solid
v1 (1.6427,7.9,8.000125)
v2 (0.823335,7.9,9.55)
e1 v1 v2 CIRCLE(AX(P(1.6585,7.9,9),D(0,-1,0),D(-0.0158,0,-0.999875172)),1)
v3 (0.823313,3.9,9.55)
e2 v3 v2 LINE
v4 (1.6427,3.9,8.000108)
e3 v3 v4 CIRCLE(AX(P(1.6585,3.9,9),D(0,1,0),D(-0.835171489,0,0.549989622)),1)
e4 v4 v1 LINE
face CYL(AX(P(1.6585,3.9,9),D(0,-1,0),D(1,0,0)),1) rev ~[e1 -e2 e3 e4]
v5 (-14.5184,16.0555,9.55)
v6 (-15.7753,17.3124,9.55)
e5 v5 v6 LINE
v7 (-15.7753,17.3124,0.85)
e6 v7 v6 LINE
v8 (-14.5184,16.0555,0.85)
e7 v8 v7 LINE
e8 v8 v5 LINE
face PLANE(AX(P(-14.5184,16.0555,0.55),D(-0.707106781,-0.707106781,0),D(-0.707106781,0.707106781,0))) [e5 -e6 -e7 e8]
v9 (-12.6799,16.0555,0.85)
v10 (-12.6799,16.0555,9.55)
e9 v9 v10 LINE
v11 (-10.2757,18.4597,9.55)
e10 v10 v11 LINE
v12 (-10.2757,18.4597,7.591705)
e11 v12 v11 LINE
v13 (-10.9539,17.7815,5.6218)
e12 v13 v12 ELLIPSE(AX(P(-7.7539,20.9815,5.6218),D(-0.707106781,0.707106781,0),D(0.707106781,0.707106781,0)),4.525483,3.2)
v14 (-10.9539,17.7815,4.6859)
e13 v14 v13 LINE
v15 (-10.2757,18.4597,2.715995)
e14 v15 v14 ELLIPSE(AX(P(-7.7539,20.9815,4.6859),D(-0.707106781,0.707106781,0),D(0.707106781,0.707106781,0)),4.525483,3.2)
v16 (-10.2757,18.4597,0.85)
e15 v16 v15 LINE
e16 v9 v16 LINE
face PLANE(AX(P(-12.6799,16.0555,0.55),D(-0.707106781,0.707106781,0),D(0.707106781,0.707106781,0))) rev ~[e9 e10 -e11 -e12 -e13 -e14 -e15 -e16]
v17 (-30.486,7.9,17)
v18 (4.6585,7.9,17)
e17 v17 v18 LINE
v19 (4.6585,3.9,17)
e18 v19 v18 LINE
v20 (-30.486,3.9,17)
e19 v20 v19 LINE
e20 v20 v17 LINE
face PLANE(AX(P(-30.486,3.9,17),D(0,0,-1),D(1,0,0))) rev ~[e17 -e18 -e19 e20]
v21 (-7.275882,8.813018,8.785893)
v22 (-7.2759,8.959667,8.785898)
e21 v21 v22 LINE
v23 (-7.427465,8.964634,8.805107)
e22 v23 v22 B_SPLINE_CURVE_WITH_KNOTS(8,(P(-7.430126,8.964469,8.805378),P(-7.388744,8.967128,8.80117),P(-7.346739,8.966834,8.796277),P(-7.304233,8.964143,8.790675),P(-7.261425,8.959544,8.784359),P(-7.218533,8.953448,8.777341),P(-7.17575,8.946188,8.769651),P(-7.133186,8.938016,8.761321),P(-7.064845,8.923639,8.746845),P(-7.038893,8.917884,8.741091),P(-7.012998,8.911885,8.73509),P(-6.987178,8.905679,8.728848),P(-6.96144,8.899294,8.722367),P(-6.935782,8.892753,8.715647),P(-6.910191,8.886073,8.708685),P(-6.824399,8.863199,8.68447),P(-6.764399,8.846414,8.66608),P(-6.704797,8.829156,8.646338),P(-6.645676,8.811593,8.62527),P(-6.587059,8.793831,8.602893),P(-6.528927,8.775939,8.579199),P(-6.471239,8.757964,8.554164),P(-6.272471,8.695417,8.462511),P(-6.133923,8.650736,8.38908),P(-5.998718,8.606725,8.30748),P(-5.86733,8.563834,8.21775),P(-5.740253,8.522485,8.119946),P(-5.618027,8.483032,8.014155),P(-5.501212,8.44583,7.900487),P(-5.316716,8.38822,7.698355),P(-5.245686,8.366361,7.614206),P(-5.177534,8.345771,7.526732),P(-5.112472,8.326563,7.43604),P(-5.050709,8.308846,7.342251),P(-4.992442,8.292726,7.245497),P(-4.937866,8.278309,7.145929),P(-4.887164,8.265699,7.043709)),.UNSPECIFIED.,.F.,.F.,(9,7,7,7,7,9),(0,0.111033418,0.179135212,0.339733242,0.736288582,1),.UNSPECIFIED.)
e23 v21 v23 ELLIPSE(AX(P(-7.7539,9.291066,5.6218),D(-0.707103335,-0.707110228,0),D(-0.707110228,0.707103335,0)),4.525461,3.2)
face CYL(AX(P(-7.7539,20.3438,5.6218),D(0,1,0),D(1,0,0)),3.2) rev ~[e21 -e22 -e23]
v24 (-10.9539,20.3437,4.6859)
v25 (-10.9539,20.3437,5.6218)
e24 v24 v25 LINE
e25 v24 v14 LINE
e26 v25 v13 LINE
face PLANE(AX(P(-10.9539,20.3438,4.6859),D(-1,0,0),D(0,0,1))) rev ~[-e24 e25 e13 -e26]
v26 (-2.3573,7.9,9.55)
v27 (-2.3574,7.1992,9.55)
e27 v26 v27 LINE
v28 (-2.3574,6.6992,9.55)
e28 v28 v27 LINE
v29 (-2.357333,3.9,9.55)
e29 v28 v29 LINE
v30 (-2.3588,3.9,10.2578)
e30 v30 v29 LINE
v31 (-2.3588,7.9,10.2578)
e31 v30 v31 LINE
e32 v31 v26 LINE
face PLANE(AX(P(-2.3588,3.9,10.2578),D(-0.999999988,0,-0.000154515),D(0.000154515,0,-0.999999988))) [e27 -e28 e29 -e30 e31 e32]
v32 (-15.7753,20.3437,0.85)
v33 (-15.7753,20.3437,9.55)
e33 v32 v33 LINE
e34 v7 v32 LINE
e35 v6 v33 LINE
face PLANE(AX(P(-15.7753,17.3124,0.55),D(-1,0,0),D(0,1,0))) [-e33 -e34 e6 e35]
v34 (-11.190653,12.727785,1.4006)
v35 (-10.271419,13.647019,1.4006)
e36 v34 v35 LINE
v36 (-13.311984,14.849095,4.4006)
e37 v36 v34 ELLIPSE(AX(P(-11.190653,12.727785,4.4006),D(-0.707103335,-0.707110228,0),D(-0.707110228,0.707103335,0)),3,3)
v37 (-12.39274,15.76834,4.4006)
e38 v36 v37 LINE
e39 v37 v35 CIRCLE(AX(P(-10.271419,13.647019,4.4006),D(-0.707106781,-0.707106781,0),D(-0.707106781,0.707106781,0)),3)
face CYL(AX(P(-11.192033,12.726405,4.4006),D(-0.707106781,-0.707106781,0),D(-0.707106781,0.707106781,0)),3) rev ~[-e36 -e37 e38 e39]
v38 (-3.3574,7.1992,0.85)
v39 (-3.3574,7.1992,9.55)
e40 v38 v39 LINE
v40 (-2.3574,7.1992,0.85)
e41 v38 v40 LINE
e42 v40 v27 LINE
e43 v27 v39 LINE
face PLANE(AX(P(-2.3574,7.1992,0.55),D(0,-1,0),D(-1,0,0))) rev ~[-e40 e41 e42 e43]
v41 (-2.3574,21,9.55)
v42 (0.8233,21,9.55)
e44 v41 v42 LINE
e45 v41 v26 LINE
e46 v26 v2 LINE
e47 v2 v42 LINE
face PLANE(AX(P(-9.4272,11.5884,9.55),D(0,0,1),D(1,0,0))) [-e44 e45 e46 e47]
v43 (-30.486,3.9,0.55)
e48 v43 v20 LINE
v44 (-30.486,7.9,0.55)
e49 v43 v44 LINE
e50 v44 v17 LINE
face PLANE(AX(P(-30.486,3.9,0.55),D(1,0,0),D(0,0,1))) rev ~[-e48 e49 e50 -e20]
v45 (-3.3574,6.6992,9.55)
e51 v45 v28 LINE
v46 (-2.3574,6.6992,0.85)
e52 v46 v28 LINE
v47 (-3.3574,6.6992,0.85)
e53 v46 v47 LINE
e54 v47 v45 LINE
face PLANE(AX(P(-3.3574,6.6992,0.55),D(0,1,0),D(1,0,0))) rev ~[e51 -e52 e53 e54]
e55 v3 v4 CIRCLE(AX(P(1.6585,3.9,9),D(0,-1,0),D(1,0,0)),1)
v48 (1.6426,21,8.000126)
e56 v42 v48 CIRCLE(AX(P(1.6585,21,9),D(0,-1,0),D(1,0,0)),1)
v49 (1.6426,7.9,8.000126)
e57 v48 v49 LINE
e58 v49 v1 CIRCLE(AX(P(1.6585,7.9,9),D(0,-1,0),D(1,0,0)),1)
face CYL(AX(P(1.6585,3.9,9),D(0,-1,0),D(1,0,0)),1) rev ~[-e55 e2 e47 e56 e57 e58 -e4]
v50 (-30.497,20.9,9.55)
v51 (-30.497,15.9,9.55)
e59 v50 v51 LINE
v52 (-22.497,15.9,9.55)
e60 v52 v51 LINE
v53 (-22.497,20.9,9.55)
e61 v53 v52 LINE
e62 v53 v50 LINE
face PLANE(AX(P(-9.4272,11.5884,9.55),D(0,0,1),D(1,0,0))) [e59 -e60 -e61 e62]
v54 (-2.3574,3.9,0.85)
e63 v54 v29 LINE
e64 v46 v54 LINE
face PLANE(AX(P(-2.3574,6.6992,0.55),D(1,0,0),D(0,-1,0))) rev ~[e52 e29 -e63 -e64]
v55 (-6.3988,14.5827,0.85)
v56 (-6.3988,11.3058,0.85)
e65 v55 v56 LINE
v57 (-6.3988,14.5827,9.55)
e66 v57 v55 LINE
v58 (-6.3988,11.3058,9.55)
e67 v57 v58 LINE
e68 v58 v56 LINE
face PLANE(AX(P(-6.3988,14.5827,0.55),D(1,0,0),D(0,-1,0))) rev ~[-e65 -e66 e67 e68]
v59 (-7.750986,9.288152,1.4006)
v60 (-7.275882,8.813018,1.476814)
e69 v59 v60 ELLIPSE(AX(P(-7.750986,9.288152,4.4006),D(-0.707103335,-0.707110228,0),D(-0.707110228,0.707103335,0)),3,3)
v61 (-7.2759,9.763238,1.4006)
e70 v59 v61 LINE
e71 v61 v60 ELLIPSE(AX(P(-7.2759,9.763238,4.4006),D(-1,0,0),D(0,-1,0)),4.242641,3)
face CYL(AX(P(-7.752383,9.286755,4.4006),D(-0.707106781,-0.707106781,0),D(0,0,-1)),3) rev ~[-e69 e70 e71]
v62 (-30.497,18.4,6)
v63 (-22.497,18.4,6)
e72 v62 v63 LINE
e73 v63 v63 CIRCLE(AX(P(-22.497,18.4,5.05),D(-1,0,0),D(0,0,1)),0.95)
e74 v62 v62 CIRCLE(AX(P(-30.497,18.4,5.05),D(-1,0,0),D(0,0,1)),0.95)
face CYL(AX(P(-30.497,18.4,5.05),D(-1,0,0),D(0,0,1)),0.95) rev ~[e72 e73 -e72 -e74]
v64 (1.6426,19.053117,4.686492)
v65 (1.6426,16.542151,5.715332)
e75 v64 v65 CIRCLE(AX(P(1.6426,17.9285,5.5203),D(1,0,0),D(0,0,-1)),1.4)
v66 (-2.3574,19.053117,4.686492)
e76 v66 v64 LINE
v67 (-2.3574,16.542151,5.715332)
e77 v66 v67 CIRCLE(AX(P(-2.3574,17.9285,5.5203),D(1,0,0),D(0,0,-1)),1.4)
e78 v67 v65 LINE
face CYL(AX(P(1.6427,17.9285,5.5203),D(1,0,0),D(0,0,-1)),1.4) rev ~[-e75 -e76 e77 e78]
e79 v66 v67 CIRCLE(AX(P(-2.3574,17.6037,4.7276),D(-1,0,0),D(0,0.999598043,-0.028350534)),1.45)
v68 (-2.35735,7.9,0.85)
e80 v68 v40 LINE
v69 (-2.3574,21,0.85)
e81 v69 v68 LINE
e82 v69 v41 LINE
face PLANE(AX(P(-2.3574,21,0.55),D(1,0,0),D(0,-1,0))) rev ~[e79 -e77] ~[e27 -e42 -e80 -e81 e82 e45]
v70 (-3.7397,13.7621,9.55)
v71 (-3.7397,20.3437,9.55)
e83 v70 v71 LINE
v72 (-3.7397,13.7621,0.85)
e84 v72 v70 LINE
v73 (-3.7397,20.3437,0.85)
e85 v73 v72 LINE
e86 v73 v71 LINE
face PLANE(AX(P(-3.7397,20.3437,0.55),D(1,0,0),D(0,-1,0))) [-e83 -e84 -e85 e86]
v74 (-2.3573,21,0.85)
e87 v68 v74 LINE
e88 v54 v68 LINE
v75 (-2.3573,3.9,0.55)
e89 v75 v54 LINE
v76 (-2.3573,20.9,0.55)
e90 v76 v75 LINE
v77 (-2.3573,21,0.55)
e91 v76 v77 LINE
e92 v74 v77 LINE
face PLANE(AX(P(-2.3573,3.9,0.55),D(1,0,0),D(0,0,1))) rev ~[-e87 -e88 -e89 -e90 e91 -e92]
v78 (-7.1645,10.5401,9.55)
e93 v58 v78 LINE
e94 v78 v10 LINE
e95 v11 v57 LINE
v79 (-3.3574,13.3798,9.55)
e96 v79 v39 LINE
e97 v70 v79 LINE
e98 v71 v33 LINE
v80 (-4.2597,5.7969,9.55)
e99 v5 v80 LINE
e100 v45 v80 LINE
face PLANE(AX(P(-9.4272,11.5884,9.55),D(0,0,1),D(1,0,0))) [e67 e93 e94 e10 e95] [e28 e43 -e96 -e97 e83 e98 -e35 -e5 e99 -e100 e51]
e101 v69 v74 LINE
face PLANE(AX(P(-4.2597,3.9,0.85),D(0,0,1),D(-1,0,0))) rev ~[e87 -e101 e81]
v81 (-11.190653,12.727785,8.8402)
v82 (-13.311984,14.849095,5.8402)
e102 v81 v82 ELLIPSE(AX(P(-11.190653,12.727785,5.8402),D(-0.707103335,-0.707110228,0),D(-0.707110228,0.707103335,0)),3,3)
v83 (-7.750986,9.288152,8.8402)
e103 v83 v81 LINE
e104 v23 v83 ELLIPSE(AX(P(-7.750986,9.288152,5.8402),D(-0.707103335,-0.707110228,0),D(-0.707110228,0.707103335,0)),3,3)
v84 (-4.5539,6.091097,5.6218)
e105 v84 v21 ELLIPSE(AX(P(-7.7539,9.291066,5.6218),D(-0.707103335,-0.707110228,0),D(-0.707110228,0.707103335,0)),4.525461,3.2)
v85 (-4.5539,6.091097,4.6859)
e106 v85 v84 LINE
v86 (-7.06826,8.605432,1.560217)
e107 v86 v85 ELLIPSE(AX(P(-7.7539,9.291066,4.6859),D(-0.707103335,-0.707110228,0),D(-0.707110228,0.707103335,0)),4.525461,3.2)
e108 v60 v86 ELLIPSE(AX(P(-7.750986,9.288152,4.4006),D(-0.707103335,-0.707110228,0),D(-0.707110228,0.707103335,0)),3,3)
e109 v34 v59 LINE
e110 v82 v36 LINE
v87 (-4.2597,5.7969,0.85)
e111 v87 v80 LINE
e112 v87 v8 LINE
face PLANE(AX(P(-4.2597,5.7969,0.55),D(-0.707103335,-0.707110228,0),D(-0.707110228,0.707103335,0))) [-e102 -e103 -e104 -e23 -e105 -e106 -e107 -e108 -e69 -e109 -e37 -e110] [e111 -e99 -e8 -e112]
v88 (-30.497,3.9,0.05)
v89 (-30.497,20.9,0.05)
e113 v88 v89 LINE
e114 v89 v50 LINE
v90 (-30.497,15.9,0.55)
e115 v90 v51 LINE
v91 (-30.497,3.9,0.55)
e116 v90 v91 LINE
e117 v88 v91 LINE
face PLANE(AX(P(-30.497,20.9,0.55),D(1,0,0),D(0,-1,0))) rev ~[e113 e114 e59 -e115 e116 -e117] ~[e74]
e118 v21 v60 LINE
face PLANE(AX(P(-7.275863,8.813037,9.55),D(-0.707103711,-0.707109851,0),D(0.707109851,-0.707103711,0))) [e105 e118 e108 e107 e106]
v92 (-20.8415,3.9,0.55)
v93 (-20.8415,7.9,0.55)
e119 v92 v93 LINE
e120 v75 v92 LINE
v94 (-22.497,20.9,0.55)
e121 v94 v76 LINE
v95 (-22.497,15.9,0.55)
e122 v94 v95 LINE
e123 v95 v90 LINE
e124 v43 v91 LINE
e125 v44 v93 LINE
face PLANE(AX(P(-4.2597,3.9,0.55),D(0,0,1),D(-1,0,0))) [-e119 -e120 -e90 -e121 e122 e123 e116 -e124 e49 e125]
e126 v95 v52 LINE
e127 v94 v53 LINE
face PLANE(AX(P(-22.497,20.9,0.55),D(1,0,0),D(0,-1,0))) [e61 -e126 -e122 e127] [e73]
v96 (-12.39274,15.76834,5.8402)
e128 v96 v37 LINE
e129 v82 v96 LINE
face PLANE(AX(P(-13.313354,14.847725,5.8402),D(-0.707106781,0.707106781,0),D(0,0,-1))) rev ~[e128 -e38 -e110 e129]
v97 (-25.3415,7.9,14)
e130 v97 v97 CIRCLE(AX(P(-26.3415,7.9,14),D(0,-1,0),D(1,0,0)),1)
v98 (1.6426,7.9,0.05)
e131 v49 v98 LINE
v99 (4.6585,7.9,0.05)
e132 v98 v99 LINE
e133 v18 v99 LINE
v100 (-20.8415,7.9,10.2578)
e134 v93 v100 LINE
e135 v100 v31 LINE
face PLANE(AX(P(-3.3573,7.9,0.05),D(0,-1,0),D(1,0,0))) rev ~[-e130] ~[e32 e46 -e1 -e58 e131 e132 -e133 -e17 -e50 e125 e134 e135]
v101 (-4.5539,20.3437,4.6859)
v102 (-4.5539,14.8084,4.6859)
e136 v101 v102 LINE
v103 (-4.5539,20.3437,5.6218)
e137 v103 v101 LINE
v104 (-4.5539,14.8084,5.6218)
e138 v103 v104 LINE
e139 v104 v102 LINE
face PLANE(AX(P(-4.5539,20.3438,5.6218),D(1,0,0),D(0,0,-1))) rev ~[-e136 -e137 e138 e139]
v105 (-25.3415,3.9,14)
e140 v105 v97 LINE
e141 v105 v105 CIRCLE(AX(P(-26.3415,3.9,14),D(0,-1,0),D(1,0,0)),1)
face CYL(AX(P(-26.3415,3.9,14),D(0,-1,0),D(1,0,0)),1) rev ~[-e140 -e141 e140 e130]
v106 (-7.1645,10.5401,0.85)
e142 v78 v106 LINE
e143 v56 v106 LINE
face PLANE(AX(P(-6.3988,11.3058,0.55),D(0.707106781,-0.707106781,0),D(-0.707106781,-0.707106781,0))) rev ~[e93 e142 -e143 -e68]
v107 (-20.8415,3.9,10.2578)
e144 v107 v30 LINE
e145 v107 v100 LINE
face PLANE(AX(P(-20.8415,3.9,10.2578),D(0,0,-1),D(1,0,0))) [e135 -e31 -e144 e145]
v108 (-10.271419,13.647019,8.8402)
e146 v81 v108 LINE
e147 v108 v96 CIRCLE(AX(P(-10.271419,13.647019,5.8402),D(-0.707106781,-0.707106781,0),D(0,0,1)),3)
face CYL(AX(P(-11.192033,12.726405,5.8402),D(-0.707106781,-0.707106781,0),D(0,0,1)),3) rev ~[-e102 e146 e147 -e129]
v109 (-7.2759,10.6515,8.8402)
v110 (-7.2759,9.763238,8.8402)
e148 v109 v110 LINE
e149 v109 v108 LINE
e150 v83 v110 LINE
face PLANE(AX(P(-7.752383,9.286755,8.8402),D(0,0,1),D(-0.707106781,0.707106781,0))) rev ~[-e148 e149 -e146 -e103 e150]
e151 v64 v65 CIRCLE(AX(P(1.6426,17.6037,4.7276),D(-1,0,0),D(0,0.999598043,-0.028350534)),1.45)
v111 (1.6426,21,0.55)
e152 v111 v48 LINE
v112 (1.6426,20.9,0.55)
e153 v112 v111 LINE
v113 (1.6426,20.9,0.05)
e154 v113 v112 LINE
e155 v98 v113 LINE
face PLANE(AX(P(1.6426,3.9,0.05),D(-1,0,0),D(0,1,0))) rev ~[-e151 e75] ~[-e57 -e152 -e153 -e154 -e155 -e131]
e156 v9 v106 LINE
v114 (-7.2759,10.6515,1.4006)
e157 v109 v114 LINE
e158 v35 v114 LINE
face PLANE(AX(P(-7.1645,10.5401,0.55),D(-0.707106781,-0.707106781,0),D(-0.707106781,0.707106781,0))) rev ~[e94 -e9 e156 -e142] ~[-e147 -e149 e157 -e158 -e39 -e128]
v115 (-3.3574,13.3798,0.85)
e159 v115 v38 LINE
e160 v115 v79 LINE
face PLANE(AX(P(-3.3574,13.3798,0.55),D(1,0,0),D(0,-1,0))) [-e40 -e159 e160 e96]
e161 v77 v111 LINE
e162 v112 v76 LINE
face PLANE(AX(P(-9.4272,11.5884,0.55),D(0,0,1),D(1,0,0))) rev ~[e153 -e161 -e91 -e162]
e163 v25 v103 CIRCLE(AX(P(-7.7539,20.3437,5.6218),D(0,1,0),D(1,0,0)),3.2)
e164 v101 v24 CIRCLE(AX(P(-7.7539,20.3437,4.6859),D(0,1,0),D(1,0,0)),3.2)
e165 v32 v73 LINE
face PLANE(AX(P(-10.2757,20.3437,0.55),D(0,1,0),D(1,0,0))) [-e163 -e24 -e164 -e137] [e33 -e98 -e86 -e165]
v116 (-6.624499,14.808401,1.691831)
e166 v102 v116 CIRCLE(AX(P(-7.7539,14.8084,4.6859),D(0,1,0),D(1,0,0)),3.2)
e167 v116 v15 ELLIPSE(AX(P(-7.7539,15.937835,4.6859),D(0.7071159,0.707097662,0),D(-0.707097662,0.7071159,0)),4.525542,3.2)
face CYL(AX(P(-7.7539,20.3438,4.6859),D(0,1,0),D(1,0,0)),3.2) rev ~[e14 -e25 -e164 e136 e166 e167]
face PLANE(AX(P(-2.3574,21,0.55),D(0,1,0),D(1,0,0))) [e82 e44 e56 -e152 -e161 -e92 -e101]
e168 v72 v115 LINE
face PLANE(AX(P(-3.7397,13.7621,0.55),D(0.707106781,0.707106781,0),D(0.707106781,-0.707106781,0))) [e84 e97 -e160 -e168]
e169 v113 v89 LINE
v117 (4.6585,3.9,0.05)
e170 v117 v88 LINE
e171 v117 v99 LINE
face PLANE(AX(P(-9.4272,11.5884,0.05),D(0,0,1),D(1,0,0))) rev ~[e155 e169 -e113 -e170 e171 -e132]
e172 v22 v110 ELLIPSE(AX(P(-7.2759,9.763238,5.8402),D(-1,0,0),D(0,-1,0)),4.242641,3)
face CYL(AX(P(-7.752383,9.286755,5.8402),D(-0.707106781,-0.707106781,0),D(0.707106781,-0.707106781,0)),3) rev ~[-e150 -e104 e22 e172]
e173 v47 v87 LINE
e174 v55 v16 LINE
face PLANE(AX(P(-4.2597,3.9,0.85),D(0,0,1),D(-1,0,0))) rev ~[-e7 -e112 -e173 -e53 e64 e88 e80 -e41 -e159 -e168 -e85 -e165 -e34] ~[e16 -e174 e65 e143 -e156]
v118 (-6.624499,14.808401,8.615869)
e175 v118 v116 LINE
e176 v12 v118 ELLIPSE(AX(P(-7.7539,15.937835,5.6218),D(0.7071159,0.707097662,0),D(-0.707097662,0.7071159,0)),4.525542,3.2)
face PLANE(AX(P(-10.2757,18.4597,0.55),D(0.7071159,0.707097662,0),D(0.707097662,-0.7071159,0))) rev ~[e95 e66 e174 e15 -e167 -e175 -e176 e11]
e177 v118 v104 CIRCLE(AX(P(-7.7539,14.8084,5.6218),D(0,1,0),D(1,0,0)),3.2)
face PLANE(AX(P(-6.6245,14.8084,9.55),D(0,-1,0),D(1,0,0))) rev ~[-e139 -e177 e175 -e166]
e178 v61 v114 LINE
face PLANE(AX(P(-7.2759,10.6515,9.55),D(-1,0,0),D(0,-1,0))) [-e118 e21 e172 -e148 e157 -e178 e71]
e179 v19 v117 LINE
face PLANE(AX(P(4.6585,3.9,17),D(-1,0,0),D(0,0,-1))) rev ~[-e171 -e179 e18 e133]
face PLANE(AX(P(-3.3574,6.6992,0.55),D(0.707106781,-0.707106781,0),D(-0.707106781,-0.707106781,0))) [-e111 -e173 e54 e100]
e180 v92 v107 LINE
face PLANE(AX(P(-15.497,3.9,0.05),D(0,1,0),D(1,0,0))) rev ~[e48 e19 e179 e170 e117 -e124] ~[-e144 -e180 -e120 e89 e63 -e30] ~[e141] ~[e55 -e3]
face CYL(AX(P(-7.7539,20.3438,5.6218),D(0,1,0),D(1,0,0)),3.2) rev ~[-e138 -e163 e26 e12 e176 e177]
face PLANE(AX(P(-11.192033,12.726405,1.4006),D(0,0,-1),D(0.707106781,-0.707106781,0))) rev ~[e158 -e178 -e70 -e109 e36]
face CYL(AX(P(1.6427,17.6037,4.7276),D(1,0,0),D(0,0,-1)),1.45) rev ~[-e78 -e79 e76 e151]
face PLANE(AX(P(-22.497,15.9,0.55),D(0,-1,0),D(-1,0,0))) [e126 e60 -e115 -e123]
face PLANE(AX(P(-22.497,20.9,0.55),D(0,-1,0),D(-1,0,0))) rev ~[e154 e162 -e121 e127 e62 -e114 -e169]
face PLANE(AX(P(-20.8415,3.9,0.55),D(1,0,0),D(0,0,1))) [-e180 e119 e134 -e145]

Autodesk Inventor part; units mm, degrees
ref_plane "YZ Plane" through (0, 0, 0) normal (1, 0, 0) x (0, 1, 0)
ref_plane "XZ Plane" through (0, 0, 0) normal (0, 1, 0) x (-1, 0, 0)
ref_plane "Work Plane1" through (-9.4272, 11.5884, 0.05) normal (0, 0, 1) x (1, 0, 0)
sketch "Sketch1" plane through (-9.4272, 11.5884, 0.05) normal (0, 0, 1) x (1, 0, 0)
  line L0 (-5.9698, 7.5884) -> (-5.9698, -7.5884) projected
  line L1 (-5.9698, -7.5884) -> (5.9698, -7.5884) projected
  line L2 (5.9698, -7.5884) -> (5.9698, 7.5884) projected
  line L3 (5.9698, 7.5884) -> (-5.9698, 7.5884) projected
  line L4 (-6.0698, 7.6884) -> (-6.0698, -7.6884)
  line L5 (-6.0698, -7.6884) -> (6.0698, -7.6884)
  line L6 (6.0698, -7.6884) -> (6.0698, 7.6884)
  line L7 (6.0698, 7.6884) -> (-6.0698, 7.6884)
  line L8 (-6.0698, -7.6884) -> (-21.0698, -7.6884)
  line L9 (-21.0698, -7.6884) -> (-21.0698, 9.3116)
  line L10 (6.0698, -7.6884) -> (11.0698, -7.6884)
  line L11 (11.0698, -7.6884) -> (11.0698, 9.3116)
  line L12 (11.0698, 9.3116) -> (-21.0698, 9.3116)
  point P0 (9.4272, -11.5884)
  dimension "d0" = 0.1
  dimension "d1" = 15
  dimension "d2" = 17
  dimension "d3" = 5
  dimension "d4" = 90
extrude "Extrusion1" add sketch "Sketch1" along normal blind 0.5 contours L3 L2 L1 L0 | L7 L6 L5 L4 | L4 L8 L9 L12 L11 L10 L6 L7
sketch "Sketch3" plane through (-9.4272, 11.5884, 0.55) normal (0, 0, 1) x (1, 0, 0)
  line L0 (-2.9698, 4.4671) -> (-0.8485, 6.5884) projected
  line L1 (2.2627, -0.7655) -> (-2.9698, 4.4671) projected
  line L2 (2.8284, -0.1998) -> (2.2627, -0.7655) projected
  line L3 (2.8284, 2.9115) -> (2.8284, -0.1998) projected
  line L4 (-0.8485, 6.5884) -> (2.8284, 2.9115) projected
  line L5 (5.6875, 2.1737) -> (6.0698, 1.7914)
  line L6 (6.0698, 1.7914) -> (6.0698, -4.8892)
  line L7 (6.0698, 7.6884) -> (6.0698, -7.5884) projected
  line L8 (6.0698, -4.8892) -> (5.1675, -5.7915)
  line L9 (5.1675, -5.7915) -> (-5.0912, 4.4671)
  line L10 (3.0284, 2.9943) -> (3.0284, -0.2826)
  line L11 (3.0284, -0.2826) -> (2.2627, -1.0483)
  line L12 (2.2627, -1.0483) -> (-3.2527, 4.4671)
  line L13 (-3.2527, 4.4671) -> (-0.8485, 6.8713)
  line L14 (-0.8485, 6.8713) -> (3.0284, 2.9943)
  line L15 (6.0698, -4.8892) -> (7.0698, -4.8892)
  line L16 (7.0698, -4.8892) -> (7.0698, -4.3892)
  line L17 (7.0698, -4.3892) -> (6.0698, -4.3892)
  line L18 (6.0698, -4.3892) -> (6.0698, -4.8892)
  line L19 (-11.0698, 9.4116) -> (11.0698, 9.4116) projected
  line L20 (-21.0698, -7.6884) -> (11.0698, -7.6884) projected
  line L21 (11.0698, 9.4116) -> (7.0698, 9.4116)
  line L22 (7.0698, 9.4116) -> (7.0698, -7.6884)
  line L23 (7.0698, -7.6884) -> (11.0698, -7.6884)
  line L24 (11.0698, -7.6884) -> (11.0698, 9.4116)
  line L25 (-5.0912, 4.4671) -> (-6.3481, 5.724)
  line L26 (-6.3481, 8.7553) -> (-0.8485, 8.7553)
  line L27 (-0.8485, 8.7553) -> (5.6875, 8.7553)
  line L28 (5.6875, 8.7553) -> (5.6875, 2.1737)
  line L29 (-5.0912, 4.4671) -> (-4.0305, 5.5278)
  line L30 (-1.9092, 7.6491) -> (-1.7678, 7.7905)
  line L31 (-6.3481, 5.724) -> (-6.3481, 5.724)
  line L32 (-6.3481, 5.724) -> (-6.3481, 8.7553)
  point P0 (9.4272, -11.5884)
  point P1 (11.0698, -7.6884)
  dimension "d10" = 1.5
  dimension "d11" = 1.5
  dimension "d14" = 0.2
  dimension "d15" = 1
  dimension "d16" = 0.5
extrude "Extrusion3" add sketch "Sketch3" along normal blind 9 contours L5 L6 L8 L9 L25 L32 L26 L27 L28 | L17 L16 L15 L6 | L22 L19 L24 L20 L16
sketch "Sketch4" plane through (-30.497, 3.9, 0.55) normal (0, -1, 0) x (1, 0, 0)
  line L0 (26.2373, 0) -> (14.7218, 0) projected
  line L1 (26.2373, 0) -> (26.2373, 9) projected
  line L2 (14.7218, 9) -> (26.2373, 9) projected
  line L3 (28.1397, 0) -> (0, 0) projected
  line L4 (0, 0) -> (28.1397, 0)
  line L5 (28.1397, 0) -> (28.1397, 0.3)
  line L6 (28.1397, 0.3) -> (0, 0.3)
  line L7 (0, 0.3) -> (0, 0)
  line L8 (14.7218, 0) -> (14.7218, 9) projected
  point P0 (30.497, -0.55)
  point P1 (1.736, 0)
  point P2 (18.1397, 0)
  dimension "d41" = 0.3
extrude "Extrusion4" cut sketch "Sketch4" against normal through all contours L0 L8 L6 L1 | L1 L6 L5 L3 | L3 L7 L6 L8
ref_plane "Work Plane3" through (1.6427, 4, -2.95) normal (1, 0, 0) x (0, 0, -1)
sketch "Sketch5" plane through (1.6427, 4, -2.95) normal (1, 0, 0) x (0, 0, -1)
  line L0 (-3, 16.9) -> (-3.5, 16.9) projected
  line L1 (-12.5, -0.1) -> (-12.5, 17) projected
  line L2 (-3, -0.1) -> (-12.5, -0.1) projected
  circle A0 centre (-8.4703, 13.9285) radius 1.4
  line L3 (-3, 16.9) -> (-3, -0.1) projected
  line L4 (-3.5, 17) -> (-3.5, 16.9) projected
  line L5 (-3.5, 17) -> (-12.5, 17) projected
  point P0 (-2.95, -4)
  dimension "d21" = 2.8
extrude "Extrusion5" cut sketch "Sketch5" against normal up to surface (5.3823 mm away) contours A0
sketch "Sketch6" plane through (-15.7753, 20.3438, 9.55) normal (0, 1, 0) x (1, 0, 0)
  circle A0 centre (8.0214, 3.9282) radius 3.2
  line L0 (8.0214, 3.9282) -> (8.0214, 4.8641) construction
  line L1 (11.2214, 3.9282) -> (11.2214, 4.8641)
  line L2 (4.8214, 4.8641) -> (4.8214, 3.9282)
  arc A1 (4.8214, 3.9282) -> (11.2214, 3.9282) centre (8.0214, 3.9282) ccw
  arc A2 (11.2214, 4.8641) -> (4.8214, 4.8641) centre (8.0214, 4.8641) ccw
  point P0 (15.7753, 9.55)
  point P1 (8.0214, 4.3961)
extrude "Extrusion6" cut sketch "Sketch6" against normal through all
sketch "Sketch7" plane through (-30.497, 3.9, 0.55) normal (-1, 0, 0) x (0, 0, 1)
  circle A0 centre (4.4299, 8.2054) radius 3.6733
  point P0 (-0.55, -3.9)
  point P1 (5.45, 8.2054)
ref_plane "Work Plane2" through (-9.7807, 13.4392, 0.05) normal (-0.7071, -0.7071, 0) x (0, 0, 1)
sketch "Sketch8" plane through (-4.2597, 5.7969, 9.55) normal (-0.7071, -0.7071, 0) x (-0.7071, 0.7071, 0)
  line L0 (16.2855, 8.7) -> (0, 8.7) projected
  line L1 (0, 8.7) -> (0, 0) projected
  line L2 (16.2855, 0) -> (0, 0) projected
  ellipse E0 centre (4.9415, 3.9282) end of major axis (9.4669, 3.9282) minor radius 3.2 (0.416, 3.9282) -> (9.4669, 3.9282) ccw projected
  ellipse E1 centre (4.9415, 4.8641) end of major axis (0.416, 4.8641) minor radius 3.2 (9.4669, 4.8641) -> (0.416, 4.8641) ccw projected
  line L3 (4.9374, 0.7098) -> (9.8018, 0.7098)
  line L4 (12.8018, 3.7098) -> (12.8018, 5.1494)
  line L5 (9.8018, 8.1494) -> (4.9374, 8.1494)
  line L6 (1.9374, 5.1494) -> (1.9374, 3.7098)
  arc A0 (9.8018, 0.7098) -> (12.8018, 3.7098) centre (9.8018, 3.7098) ccw
  arc A1 (12.8018, 5.1494) -> (9.8018, 8.1494) centre (9.8018, 5.1494) ccw
  arc A2 (4.9374, 8.1494) -> (1.9374, 5.1494) centre (4.9374, 5.1494) ccw
  arc A3 (1.9374, 3.7098) -> (4.9374, 0.7098) centre (4.9374, 3.7098) ccw
  line L7 (9.4669, 4.8641) -> (9.4669, 3.9282) projected
  line L8 (16.2855, 8.7) -> (16.2855, 0) projected
  line L9 (0.416, 3.9282) -> (0.416, 4.8641) projected
  point P0 (-7.1111, 9.55)
  dimension "d42" = 3
extrude "Extrusion8" cut sketch "Sketch8" against normal up to surface (1.3 mm away) contours A3 L6 A2 E1 L7 E0 | E0 L7 E1 A2 L5 A1 L4 A0 L3 A3
ref_plane "Work Plane4" through (-9.4272, 11.5884, -2.95) normal (0, 0, -1) x (-1, 0, 0)
ref_plane "Work Plane7" through (-6.3987, 11.3058, 7.8996) normal (0, 1, 0) x (1, 0, 0)
ref_plane "Work Plane5" through (-3.3573, 3.9, 0.05) normal (0, -1, 0) x (1, 0, 0)
sketch "Sketch16" plane through (-3.3573, 3.9, 0.05) normal (0, -1, 0) x (1, 0, 0)
  line L0 (1, 0.5) -> (1, 9.5) projected
  line L1 (-27.1397, 0.5) -> (1, 0.5) projected
  line L2 (5, 0) -> (-27.1397, 0) projected
  line L3 (5, 0) -> (5, 9.5) projected
  line L4 (1, 9.5) -> (5, 9.5) projected
  line L5 (5, 0) -> (-27.1397, 0) projected
  line L6 (-12.1397, 0.5) -> (0, 0.5) projected
  line L7 (5, 0) -> (-27.1397, 0) projected
  line L8 (-27.1397, 0.5) -> (1, 0.5) projected
  line L9 (-27.1397, 0) -> (-27.1397, 0.5) projected
  line L10 (-12.1397, 0) -> (-12.1397, 0.5) projected
  circle A0 centre (5.0158, 8.95) radius 1 projected
  circle A1 centre (-16.4842, -6.55) radius 1 projected
  circle A2 centre (-22.9842, 13.95) radius 1 projected
  line L11 (-27.1287, 16.95) -> (8.0158, 16.95)
  line L12 (8.0158, 16.95) -> (8.0158, 0)
  line L13 (8.0158, 0) -> (-27.1287, 0)
  line L14 (-27.1287, 0) -> (-27.1287, 16.95)
  circle A3 centre (-22.9842, 13.95) radius 1
  circle A4 centre (5.0158, 8.95) radius 1
  line L15 (0.9985, 0.5) -> (-17.4842, 0.5)
  line L16 (-17.4842, 0.5) -> (-17.4842, 10.2078)
  line L17 (-17.4842, 10.2078) -> (0.9985, 10.2078)
  line L18 (0.9985, 10.2078) -> (0.9985, 0.5)
  line L19 (-27.1397, 0) -> (-27.1397, 0.5) projected
  point P0 (3.3573, -0.05)
  point P1 (0, 0)
  dimension "d53" = 3
  dimension "d54" = 3
  dimension "d55" = 2
  dimension "d56" = 2
extrude "Extrusion15" add sketch "Sketch16" against normal blind 4 contours L0 L4 A0 L3 L2 L10 L1 | L18 L17 L16 L1 L14 L11 L12 L13 L3 A0 L4 | L4 L3 A0 | L10 L2 L14 L1 | L14 L2 L9 L1 picked at (4.9217, 8.4773)
ref_plane "Work Plane6" through (-29.3415, 3.9, 17) normal (0, -1, 0) x (1, 0, 0)
sketch "Sketch17" plane through (-29.3415, 3.9, 17) normal (0, -1, 0) x (1, 0, 0)
  arc A0 (30.9842, -8.9999) -> (30.1648, -7.45) centre (31, -8) ccw projected
  circle A1 centre (31, -8) radius 1
  point P0 (29.3415, -17)
extrude "Extrusion16" cut sketch "Sketch17" against normal through all
sketch "Sketch18" plane through (1.6427, 20.9, 0.55) normal (1, 0, 0) x (0, 0, -1)
  line L0 (0.5, 0) -> (0.5, -13) projected
  line L1 (0.5, 0) -> (0, 0) projected
  line L2 (0, 0.1) -> (0, 0) projected
  line L3 (0, 0.1) -> (-7.4501, 0.1) projected
  line L4 (-9, -7.1378) -> (-9, -0.5562) projected
  line L5 (-0.3, -7.1378) -> (-9, -7.1378) projected
  circle A0 centre (-4.1776, -3.2963) radius 1.45
  line L6 (-0.3, -0.5562) -> (-9, -0.5562) projected
  line L7 (-7.4501, 0.1) -> (-7.4501, -13) projected
  line L8 (-7.4501, -13) -> (0.5, -13) projected
  line L9 (-0.3, -7.1378) -> (-0.3, -0.5562) projected
  point P0 (0.55, -20.9)
  dimension "d61" = 2.9
extrude "Extrusion17" cut sketch "Sketch18" against normal up to surface (5.3823 mm away) contours A0
sketch "Sketch19" plane through (-9.4272, 11.5884, 9.55) normal (0, 0, 1) x (1, 0, 0)
  line L0 (7.0684, -4.8892) -> (7.0684, -4.3892) projected
  line L1 (7.0684, -4.3892) -> (6.0698, -4.3892) projected
  line L2 (6.0698, -4.3892) -> (6.0698, 1.7914) projected
  line L3 (6.0698, 1.7914) -> (5.6875, 2.1737) projected
  line L4 (5.6875, 2.1737) -> (5.6875, 8.7553) projected
  line L5 (5.6875, 8.7553) -> (-6.3481, 8.7553) projected
  line L6 (-6.3481, 8.7553) -> (-6.3481, 5.724) projected
  line L7 (-6.3481, 5.724) -> (5.1675, -5.7915) projected
  line L8 (5.1675, -5.7915) -> (6.0698, -4.8892) projected
  line L9 (6.0698, -4.8892) -> (7.0684, -4.8892) projected
  line L10 (3.0284, -0.2826) -> (2.2627, -1.0483) projected
  line L11 (2.2627, -1.0483) -> (-3.2527, 4.4671) projected
  line L12 (-3.2527, 4.4671) -> (-0.8485, 6.8713) projected
  line L13 (-0.8485, 6.8713) -> (3.0284, 2.9943) projected
  line L14 (3.0284, 2.9943) -> (3.0284, -0.2826) projected
  line L15 (2.2627, -1.0483) -> (-3.2527, 4.4671) projected
  line L16 (2.1513, -0.9369) -> (2.1513, -2.7754)
  line L17 (-6.3481, 5.724) -> (5.1675, -5.7915) projected
  line L18 (5.6875, 2.1737) -> (5.6875, 8.7553) projected
  line L19 (2.1513, -2.7754) -> (6.0698, -2.7754)
  line L20 (2.8027, 3.22) -> (5.6875, 3.22)
  point P0 (9.4272, -11.5884)
extrude "Extrusion18" add sketch "Sketch19" against normal up to surface (8.7 mm away) contours L9 L8 L7 L19 L2 L1 L0 | L19 L16 L11 L10 L14 L13 L20 L4 L3 L2
sketch "Sketch20" plane through (-9.4272, 11.5884, 0.55) normal (0, 0, 1) x (1, 0, 0)
  line L0 (7.0684, -7.6884) -> (7.0684, -3.6884) projected
  line L1 (7.0684, -3.6884) -> (7.0698, -3.6884) projected
  line L2 (7.0698, -3.6884) -> (7.0698, 9.3116) projected
  line L3 (7.0698, 9.3116) -> (-21.0698, 9.3116) projected
  line L4 (-21.0698, 9.3116) -> (-21.0698, -7.6884) projected
  line L5 (-21.0698, -7.6884) -> (-21.0589, -7.6884) projected
  line L6 (-21.0589, -7.6884) -> (-21.0589, -3.6884) projected
  line L7 (-21.0589, -3.6884) -> (-11.4143, -3.6884) projected
  line L8 (-11.4143, -3.6884) -> (-11.4143, -7.6884) projected
  line L9 (-11.4143, -7.6884) -> (7.0684, -7.6884) projected
  line L10 (-21.0698, 9.3116) -> (-13.0698, 9.3116)
  line L11 (-13.0698, 9.3116) -> (-13.0698, 4.3116)
  line L12 (-13.0698, 4.3116) -> (-21.0698, 4.3116)
  line L13 (-21.0698, 4.3116) -> (-21.0698, 9.3116)
  point P0 (9.4272, -11.5884)
  dimension "d66" = 8
  dimension "d67" = 5
extrude "Extrusion19" add sketch "Sketch20" along normal up to surface (9 mm away) contours L11 L12 L4 L3
sketch "Sketch21" plane through (-30.497, 3.9, 0.05) normal (-1, 0, 0) x (0, 0, 1)
  line L0 (0, 17) -> (9.5, 17) projected
  line L1 (0, 0) -> (0, 17) projected
  line L2 (0, 0) -> (0.5, 0) projected
  line L3 (0.5, 12) -> (0.5, 0) projected
  line L4 (0.5, 12) -> (9.5, 12) projected
  line L5 (9.5, 12) -> (9.5, 17) projected
  circle A0 centre (5, 14.5) radius 0.95
  point P0 (-0.05, -3.9)
  dimension "d70" = 1.9
extrude "Extrusion20" cut sketch "Sketch21" against normal up to surface (8 mm away) contours A0
properties part number "cellSTORM_dichroic_mirror_adjuster_tmp"
